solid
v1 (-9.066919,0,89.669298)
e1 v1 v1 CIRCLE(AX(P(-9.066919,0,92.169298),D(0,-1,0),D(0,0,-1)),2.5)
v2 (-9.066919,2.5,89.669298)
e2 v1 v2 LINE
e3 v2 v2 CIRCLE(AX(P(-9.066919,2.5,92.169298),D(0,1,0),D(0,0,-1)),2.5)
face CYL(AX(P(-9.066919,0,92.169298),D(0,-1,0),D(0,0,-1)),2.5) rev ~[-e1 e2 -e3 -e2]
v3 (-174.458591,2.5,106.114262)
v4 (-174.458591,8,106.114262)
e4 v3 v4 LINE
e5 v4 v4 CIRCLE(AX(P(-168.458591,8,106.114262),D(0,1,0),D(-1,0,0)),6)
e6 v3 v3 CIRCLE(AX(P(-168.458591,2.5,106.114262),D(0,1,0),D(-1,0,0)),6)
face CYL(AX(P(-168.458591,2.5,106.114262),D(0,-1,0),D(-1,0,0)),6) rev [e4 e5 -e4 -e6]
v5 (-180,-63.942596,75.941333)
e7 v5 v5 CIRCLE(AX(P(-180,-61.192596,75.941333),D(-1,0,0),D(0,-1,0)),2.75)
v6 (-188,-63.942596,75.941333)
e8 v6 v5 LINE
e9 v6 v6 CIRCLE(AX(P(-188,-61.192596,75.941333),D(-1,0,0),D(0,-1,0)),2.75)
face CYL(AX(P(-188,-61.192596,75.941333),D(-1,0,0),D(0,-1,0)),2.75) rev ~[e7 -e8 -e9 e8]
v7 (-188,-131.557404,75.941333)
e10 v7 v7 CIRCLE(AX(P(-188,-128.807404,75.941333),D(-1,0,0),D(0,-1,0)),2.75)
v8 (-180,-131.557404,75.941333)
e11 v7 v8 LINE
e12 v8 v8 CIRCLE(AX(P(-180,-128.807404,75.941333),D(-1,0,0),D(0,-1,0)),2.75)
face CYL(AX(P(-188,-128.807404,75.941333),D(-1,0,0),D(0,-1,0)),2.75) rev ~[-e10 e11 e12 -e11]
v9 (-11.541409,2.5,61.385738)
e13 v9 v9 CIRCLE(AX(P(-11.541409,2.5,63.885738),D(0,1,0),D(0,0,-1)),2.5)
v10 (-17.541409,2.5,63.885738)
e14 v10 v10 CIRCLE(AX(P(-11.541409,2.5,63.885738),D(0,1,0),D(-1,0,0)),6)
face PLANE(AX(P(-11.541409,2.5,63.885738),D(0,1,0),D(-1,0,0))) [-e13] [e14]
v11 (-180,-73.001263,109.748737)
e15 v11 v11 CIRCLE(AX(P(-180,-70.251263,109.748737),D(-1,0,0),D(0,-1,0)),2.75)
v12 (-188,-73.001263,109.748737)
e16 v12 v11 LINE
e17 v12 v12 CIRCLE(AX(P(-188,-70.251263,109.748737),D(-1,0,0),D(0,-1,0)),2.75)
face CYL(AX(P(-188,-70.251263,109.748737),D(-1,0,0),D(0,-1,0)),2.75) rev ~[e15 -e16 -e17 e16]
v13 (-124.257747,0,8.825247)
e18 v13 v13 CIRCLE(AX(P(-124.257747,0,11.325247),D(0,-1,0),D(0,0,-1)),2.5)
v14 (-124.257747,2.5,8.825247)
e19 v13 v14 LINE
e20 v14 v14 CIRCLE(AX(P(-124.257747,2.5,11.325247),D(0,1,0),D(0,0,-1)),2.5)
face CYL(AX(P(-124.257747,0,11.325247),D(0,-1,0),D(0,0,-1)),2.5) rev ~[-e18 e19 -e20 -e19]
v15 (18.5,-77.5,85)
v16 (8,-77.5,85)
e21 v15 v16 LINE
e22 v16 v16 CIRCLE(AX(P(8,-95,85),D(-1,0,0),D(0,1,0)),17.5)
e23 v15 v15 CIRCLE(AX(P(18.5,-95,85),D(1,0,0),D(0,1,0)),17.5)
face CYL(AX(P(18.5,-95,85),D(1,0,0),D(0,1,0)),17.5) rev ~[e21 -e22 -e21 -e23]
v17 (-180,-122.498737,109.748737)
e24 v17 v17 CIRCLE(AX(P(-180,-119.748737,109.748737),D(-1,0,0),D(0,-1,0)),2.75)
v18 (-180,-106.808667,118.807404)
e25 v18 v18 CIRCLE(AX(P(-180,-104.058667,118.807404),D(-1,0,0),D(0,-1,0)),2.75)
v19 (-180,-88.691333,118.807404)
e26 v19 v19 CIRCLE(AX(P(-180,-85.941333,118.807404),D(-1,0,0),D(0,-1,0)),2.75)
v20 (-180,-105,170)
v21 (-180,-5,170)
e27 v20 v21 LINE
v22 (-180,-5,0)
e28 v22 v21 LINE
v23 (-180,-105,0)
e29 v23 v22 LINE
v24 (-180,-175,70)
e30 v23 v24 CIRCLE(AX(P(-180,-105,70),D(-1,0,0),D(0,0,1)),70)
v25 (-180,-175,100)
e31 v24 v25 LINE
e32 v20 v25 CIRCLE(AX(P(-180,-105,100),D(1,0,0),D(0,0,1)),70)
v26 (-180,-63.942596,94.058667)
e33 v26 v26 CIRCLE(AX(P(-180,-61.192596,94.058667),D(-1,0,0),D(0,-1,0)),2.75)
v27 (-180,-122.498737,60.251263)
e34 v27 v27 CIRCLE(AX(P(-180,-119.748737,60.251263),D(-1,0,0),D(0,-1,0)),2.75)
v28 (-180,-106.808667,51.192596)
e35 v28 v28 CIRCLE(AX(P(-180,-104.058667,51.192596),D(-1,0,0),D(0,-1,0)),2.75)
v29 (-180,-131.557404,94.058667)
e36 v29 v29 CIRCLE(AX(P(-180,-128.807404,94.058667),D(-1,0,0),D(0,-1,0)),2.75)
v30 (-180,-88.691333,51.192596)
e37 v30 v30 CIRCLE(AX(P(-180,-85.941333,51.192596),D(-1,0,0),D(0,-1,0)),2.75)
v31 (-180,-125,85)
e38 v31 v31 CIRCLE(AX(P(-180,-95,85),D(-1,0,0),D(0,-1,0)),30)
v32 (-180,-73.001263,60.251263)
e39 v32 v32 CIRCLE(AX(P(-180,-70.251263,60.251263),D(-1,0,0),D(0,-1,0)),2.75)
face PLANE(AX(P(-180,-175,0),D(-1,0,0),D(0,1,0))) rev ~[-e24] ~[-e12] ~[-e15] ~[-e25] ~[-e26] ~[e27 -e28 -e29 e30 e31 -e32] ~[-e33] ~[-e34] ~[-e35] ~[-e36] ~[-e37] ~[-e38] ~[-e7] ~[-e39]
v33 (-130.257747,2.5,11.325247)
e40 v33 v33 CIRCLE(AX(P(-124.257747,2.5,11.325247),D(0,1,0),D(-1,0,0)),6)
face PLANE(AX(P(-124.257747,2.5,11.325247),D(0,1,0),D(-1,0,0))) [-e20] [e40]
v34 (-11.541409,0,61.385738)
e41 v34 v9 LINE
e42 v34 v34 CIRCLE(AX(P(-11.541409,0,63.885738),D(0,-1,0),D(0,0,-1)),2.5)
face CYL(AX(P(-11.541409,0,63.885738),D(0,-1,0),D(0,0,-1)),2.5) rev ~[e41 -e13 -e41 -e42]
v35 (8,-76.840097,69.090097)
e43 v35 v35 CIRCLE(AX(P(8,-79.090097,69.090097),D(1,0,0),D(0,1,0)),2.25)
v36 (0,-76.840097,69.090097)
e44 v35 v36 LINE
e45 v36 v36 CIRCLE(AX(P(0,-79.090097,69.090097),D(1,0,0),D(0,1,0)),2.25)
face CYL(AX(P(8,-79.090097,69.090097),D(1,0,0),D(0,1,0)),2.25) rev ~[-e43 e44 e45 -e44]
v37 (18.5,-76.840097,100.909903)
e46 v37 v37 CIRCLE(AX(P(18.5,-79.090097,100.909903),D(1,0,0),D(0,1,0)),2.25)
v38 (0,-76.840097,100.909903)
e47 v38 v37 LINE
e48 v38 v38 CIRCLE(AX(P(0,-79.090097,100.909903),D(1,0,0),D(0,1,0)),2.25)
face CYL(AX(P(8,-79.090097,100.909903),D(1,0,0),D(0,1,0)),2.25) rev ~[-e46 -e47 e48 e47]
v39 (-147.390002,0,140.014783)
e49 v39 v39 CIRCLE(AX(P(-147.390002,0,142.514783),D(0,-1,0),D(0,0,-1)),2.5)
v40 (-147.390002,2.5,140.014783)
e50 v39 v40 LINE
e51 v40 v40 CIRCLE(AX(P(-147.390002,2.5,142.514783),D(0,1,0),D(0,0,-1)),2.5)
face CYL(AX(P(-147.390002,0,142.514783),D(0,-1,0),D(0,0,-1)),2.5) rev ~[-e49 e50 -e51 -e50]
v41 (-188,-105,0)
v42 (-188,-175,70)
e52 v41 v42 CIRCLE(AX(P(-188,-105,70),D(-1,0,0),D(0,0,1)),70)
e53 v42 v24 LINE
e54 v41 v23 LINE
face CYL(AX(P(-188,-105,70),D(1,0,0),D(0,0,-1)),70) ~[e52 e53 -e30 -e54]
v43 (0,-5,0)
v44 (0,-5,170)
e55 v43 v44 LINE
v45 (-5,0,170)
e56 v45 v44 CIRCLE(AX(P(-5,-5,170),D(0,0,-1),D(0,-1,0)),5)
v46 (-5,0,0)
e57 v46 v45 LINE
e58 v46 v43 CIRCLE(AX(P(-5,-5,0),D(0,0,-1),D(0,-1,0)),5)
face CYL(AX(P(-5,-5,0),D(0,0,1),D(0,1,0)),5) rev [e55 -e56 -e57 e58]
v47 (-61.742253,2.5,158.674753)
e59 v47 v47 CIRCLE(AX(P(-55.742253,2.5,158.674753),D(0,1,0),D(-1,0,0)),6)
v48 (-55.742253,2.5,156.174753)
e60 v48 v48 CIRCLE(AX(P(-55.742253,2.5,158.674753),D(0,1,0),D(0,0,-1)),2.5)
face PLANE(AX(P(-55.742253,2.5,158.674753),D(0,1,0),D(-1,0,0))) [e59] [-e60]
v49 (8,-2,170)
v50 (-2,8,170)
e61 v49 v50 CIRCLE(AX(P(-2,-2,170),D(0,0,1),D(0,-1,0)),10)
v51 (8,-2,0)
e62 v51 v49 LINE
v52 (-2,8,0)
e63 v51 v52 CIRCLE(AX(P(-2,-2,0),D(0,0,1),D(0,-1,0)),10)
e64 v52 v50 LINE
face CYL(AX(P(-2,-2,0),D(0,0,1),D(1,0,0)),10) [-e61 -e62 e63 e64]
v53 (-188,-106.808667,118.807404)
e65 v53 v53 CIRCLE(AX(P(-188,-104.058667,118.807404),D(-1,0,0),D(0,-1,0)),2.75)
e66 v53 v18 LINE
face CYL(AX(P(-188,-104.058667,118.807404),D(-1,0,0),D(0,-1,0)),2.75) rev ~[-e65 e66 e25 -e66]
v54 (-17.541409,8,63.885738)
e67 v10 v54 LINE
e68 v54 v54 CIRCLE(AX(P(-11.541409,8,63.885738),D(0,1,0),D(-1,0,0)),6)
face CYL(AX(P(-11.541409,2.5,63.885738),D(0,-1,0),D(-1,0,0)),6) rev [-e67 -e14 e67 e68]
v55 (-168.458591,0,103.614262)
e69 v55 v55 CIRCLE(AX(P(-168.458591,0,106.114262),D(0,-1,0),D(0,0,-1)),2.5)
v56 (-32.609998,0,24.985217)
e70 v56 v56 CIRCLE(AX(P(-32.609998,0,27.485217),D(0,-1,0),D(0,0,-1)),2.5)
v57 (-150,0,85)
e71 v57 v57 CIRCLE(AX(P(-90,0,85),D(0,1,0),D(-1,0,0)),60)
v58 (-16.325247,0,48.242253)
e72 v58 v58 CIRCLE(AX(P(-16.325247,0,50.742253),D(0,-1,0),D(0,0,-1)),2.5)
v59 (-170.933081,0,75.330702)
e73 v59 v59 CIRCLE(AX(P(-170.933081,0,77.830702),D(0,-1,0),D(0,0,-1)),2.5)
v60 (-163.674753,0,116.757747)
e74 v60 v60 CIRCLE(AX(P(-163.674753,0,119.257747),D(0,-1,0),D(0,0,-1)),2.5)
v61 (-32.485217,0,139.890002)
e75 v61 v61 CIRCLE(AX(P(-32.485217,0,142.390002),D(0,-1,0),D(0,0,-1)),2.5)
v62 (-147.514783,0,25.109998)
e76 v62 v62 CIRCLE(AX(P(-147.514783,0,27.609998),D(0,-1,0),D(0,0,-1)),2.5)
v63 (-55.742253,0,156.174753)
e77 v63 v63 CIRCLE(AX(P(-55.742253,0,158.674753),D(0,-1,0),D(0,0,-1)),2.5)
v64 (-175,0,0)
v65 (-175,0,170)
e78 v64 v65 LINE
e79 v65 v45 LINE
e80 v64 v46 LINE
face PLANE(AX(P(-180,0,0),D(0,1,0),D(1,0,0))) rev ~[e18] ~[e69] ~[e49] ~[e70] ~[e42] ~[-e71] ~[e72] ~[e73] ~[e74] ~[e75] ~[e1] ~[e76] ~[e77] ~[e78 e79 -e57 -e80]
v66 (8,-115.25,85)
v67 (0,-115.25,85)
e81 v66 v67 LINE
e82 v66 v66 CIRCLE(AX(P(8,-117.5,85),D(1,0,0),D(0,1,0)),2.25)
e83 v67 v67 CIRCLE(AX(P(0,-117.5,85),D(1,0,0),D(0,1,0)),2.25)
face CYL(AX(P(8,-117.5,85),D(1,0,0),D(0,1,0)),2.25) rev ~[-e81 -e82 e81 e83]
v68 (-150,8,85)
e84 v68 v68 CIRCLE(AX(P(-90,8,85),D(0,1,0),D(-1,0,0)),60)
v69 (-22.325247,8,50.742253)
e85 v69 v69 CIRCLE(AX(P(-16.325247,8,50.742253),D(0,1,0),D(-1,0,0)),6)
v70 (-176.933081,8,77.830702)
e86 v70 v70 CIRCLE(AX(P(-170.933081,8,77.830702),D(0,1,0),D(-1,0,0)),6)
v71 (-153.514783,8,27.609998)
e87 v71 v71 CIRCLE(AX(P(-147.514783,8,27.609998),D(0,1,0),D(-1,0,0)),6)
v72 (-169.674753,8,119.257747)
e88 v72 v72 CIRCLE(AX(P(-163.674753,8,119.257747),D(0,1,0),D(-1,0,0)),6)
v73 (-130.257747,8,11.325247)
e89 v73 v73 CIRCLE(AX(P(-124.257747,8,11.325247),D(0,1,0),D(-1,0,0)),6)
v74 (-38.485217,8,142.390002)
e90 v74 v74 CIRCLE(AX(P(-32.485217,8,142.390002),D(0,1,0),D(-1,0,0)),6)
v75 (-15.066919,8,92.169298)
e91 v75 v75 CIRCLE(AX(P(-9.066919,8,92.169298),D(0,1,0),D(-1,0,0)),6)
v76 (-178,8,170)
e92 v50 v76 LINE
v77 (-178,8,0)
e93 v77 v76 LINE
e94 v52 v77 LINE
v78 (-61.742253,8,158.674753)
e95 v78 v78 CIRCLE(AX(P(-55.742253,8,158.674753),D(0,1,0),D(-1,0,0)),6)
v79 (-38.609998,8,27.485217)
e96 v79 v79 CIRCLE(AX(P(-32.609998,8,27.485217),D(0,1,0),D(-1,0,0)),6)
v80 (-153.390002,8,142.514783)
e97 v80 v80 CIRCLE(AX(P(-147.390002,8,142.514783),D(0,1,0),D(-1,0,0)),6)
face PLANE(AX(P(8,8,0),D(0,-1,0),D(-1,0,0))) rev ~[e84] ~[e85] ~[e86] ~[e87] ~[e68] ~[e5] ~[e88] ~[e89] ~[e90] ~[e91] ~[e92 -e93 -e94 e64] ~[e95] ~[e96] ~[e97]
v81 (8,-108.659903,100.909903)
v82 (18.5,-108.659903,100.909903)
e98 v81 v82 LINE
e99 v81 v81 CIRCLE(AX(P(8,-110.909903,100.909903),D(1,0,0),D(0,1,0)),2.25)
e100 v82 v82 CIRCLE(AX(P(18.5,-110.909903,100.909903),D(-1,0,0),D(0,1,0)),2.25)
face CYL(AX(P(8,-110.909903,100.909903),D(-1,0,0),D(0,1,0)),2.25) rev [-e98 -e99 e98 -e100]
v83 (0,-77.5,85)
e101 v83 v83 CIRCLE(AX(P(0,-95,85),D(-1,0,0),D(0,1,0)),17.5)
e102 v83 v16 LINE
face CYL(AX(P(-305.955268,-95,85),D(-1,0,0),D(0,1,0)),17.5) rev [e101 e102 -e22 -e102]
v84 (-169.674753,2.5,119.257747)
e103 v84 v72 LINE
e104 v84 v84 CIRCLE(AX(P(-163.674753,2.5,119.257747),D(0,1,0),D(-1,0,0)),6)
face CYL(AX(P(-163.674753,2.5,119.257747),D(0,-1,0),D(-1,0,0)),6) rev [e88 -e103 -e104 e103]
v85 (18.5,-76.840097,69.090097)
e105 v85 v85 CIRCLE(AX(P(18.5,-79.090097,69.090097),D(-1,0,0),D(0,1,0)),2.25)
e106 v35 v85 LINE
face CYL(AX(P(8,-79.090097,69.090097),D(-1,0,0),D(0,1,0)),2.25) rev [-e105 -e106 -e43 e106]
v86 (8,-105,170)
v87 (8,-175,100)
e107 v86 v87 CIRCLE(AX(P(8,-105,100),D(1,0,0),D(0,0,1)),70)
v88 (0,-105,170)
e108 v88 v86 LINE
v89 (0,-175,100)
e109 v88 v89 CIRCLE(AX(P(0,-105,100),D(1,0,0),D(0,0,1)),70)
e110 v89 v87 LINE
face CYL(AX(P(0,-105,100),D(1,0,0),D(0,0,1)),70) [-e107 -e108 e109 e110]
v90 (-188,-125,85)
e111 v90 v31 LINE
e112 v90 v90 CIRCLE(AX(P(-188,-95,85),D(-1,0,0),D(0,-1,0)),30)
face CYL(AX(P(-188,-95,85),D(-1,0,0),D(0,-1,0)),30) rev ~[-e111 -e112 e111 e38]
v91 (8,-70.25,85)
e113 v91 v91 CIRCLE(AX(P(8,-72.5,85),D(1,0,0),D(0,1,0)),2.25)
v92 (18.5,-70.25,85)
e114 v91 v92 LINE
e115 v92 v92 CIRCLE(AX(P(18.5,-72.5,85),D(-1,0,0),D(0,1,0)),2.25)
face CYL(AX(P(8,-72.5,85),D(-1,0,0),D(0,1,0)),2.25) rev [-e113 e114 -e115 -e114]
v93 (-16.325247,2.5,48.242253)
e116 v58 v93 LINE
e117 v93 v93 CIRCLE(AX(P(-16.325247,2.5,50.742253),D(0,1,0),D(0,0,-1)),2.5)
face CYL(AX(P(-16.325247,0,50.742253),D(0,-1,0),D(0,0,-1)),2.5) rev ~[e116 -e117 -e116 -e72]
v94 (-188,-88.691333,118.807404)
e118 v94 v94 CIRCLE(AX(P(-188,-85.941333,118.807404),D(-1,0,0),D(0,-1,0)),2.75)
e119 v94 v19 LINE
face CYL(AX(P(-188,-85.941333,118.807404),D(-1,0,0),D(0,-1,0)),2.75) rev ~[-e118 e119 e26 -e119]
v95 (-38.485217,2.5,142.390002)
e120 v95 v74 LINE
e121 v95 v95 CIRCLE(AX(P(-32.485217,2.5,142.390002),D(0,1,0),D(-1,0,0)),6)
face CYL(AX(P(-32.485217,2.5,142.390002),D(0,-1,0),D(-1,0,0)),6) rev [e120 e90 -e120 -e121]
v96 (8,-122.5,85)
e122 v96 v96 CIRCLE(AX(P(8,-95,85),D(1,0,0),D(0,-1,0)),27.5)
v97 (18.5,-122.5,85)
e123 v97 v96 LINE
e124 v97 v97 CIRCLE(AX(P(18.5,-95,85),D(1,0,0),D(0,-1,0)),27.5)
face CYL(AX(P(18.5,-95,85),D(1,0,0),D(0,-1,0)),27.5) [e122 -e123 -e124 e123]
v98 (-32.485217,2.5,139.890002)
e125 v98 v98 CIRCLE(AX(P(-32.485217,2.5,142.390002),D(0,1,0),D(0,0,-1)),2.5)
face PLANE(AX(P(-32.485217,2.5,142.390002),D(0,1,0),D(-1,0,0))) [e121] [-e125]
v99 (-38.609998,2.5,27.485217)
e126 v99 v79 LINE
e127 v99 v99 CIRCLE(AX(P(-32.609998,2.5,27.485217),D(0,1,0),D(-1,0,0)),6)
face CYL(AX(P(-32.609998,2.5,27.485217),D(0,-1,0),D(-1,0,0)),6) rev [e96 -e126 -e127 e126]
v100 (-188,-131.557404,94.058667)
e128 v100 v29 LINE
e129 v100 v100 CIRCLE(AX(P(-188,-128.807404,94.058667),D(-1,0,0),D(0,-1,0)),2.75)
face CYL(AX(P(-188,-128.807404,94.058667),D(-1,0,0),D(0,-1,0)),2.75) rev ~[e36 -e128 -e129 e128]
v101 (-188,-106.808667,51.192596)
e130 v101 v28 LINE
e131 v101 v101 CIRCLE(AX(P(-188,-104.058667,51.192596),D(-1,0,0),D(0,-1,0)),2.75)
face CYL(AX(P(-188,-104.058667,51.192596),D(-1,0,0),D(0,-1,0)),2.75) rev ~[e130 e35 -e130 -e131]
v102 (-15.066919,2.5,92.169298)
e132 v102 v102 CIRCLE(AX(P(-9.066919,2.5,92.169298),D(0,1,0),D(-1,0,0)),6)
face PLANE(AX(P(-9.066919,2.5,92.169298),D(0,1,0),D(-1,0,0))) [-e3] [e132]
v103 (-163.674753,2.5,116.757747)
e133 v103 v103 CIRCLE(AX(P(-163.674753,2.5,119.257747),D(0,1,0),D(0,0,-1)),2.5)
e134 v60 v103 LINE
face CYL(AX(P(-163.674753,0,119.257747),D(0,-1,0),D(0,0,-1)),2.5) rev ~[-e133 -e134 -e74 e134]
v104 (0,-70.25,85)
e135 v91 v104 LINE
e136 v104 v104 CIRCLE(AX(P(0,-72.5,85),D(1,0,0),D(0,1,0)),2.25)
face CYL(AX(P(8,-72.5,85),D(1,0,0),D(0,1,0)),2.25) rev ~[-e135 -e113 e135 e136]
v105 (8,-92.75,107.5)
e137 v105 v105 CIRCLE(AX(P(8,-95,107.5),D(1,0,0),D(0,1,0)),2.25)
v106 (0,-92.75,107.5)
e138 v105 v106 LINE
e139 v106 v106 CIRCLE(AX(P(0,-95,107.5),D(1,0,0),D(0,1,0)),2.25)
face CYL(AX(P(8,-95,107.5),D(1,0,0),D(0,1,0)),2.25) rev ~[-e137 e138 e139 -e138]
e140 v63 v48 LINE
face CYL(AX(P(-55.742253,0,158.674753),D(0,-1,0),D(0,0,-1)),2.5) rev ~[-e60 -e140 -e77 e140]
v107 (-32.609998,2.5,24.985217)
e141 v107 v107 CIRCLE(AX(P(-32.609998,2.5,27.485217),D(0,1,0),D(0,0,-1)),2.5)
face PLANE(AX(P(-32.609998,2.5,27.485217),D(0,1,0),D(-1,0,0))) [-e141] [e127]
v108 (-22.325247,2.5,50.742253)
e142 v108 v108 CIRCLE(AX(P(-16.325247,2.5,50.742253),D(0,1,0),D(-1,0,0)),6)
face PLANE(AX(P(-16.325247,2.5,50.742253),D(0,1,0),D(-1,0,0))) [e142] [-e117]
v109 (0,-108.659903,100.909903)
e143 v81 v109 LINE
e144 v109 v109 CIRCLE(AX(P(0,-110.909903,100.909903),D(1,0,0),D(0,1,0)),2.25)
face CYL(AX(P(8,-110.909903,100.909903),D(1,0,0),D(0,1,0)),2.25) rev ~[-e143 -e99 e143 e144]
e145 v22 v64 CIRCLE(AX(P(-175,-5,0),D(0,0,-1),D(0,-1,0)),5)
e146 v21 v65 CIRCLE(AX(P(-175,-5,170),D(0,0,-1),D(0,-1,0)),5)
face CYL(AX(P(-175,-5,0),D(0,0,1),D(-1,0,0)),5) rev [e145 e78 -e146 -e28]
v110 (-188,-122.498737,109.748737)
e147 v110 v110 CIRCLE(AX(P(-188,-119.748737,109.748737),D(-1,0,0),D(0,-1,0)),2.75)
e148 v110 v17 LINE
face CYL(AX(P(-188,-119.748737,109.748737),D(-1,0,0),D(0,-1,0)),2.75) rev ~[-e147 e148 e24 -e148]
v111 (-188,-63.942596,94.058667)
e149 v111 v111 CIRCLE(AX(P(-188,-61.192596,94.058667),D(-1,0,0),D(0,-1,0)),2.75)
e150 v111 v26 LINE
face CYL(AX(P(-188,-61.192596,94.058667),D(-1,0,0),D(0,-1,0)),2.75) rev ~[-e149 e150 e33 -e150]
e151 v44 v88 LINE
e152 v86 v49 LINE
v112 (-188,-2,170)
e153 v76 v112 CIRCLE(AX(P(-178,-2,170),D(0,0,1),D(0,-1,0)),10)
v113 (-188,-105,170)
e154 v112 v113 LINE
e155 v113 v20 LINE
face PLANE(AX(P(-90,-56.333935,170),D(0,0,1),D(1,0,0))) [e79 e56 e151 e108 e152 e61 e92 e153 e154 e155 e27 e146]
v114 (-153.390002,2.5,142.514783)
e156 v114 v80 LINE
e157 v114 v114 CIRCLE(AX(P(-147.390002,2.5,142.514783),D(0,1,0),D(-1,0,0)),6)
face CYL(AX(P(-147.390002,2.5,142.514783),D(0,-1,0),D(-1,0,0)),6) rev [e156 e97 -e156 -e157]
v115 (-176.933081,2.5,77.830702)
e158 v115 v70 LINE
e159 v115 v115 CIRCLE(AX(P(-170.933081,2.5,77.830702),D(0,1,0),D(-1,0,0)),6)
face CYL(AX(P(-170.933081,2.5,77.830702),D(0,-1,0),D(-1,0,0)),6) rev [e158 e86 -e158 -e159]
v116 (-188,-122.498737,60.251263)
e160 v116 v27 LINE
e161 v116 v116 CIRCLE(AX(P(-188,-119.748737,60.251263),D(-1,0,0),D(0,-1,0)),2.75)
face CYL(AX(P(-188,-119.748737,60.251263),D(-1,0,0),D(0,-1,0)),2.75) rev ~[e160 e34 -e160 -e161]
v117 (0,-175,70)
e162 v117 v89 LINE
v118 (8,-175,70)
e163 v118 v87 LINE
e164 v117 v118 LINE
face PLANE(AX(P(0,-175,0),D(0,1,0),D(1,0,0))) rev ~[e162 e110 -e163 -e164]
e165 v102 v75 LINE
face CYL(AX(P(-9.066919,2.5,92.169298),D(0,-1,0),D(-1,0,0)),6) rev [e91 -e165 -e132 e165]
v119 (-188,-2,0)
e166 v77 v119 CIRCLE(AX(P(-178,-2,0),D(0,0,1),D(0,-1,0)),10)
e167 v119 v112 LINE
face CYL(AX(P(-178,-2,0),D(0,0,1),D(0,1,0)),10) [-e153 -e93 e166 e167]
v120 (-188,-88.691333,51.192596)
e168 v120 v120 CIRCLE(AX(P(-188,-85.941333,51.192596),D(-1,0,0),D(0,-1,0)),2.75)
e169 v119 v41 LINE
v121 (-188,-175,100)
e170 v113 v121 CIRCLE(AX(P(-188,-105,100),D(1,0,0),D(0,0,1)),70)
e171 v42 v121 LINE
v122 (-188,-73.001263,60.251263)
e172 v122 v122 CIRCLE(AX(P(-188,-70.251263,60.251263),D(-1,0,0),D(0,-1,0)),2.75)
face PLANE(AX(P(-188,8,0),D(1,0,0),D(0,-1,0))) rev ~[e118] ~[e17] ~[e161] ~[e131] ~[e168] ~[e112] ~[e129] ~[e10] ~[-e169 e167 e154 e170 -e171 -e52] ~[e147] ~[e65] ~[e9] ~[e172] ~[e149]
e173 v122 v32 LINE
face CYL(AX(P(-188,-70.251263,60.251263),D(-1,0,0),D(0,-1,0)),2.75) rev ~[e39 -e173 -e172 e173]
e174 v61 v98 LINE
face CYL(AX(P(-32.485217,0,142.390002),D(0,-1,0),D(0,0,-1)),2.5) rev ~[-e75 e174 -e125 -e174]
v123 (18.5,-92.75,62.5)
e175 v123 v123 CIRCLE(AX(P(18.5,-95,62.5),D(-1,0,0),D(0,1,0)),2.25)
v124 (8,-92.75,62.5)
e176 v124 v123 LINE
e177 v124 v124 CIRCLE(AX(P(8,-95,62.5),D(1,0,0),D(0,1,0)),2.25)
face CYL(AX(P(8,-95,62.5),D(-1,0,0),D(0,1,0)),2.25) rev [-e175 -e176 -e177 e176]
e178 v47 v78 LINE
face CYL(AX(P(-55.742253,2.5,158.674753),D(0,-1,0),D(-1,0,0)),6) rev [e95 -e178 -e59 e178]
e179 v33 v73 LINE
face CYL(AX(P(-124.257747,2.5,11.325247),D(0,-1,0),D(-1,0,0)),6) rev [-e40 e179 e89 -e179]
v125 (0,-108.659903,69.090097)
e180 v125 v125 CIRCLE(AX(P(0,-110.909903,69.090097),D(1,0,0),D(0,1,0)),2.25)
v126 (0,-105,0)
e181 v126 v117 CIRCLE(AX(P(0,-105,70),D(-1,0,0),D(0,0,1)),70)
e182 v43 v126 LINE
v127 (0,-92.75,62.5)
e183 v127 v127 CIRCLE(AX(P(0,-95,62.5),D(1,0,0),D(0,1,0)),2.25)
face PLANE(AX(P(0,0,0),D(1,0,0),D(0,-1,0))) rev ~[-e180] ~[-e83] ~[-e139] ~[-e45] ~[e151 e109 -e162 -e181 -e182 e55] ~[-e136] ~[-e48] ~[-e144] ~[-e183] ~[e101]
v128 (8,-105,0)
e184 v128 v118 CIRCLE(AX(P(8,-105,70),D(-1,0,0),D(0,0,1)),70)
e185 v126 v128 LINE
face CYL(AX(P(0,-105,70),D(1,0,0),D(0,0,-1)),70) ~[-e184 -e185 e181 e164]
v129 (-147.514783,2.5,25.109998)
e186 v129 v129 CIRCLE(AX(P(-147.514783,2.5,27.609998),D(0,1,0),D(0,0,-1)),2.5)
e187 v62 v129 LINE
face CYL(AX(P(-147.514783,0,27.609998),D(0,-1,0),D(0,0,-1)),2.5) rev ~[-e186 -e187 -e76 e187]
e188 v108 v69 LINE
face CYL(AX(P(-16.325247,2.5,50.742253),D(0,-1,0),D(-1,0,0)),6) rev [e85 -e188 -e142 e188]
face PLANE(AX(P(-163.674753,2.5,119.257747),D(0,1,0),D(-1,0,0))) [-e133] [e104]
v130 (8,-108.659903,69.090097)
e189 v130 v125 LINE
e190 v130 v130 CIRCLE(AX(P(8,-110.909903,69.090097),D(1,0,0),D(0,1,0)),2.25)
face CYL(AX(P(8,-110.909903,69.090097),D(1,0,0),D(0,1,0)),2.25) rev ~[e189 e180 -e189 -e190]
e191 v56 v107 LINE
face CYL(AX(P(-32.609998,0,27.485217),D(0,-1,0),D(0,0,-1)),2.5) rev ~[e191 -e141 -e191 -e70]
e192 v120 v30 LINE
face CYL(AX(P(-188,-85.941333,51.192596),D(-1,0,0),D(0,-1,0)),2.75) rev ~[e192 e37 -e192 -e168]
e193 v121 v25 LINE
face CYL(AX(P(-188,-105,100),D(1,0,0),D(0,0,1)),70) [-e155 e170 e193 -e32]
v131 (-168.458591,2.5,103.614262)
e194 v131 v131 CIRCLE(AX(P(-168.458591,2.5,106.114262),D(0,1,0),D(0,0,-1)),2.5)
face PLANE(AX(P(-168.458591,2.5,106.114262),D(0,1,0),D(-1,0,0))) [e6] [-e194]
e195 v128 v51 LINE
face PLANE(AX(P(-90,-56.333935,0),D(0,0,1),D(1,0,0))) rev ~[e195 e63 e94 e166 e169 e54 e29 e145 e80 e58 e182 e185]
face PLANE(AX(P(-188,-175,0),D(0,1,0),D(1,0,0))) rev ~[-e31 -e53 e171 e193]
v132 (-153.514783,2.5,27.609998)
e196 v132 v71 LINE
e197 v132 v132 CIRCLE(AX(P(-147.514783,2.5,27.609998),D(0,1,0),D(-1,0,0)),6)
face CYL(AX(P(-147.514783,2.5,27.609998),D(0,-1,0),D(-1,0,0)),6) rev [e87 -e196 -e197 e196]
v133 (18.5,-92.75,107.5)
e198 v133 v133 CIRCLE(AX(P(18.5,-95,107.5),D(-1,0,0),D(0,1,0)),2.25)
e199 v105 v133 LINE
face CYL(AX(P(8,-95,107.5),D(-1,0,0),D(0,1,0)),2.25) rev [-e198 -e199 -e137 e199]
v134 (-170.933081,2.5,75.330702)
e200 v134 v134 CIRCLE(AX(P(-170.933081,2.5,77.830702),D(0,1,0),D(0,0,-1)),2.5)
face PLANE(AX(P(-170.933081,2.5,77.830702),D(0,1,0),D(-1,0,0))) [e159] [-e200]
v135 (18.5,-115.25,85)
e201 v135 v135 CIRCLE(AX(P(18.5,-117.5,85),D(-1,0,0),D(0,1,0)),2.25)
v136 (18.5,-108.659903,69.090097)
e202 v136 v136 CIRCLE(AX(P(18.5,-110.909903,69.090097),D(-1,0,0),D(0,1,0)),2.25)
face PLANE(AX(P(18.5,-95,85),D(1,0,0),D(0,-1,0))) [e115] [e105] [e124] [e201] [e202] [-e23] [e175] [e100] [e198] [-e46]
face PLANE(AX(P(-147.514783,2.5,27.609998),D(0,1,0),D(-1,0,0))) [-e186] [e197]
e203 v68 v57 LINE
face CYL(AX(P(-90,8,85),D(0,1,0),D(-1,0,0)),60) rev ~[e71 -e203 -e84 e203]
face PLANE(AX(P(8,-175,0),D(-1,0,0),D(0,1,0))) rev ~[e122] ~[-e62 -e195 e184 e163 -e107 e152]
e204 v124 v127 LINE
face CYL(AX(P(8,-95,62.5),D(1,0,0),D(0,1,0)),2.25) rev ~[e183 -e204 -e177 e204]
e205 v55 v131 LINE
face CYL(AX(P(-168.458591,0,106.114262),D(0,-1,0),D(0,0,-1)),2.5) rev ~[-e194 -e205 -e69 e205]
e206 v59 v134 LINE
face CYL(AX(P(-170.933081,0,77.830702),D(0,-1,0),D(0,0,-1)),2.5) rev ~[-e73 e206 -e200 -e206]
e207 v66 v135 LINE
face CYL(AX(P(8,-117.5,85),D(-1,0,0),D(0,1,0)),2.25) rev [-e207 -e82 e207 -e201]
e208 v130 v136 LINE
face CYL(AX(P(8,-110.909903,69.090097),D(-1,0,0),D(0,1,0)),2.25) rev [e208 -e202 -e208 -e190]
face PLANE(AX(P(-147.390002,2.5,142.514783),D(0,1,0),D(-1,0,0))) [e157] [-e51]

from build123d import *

# Parameters (mm, degrees)
EXTRUDE_1_DEPTH          = 170
SKETCH_2_R               = 60
CUT_EXTRUDE_1_DEPTH      = 180
CUT_EXTRUDE_2_DEPTH      = 313.955268369
CUT_EXTRUDE_2_DEPTH_BACK = 313.955268369
SKETCH_3_R               = 17.5
FILLET_1_R               = 70
FILLET_2_R               = 5
FILLET_3_R               = 10
SKETCH_6_R               = 30
CUT_EXTRUDE_6_DEPTH      = 39
SKETCH_10_R              = 2.5
CUT_EXTRUDE_10_DEPTH     = 10
CUT_EXTRUDE_START        = -5.5
SKETCH_11_R              = 6
SKETCH_11_R_2            = 2.5
CUT_EXTRUDE_11_DEPTH     = 5.5
SKETCH_12_R              = 2.75
CUT_EXTRUDE_12_DEPTH     = 10
EXTRUDE_START            = 10.5
SKETCH_14_R              = 27.5
SKETCH_14_R_2            = 17.5
EXTRUDE_2_DEPTH          = 10.5
SKETCH_13_R              = 2.25
CUT_EXTRUDE_13_DEPTH     = 15


with BuildPart() as part:
    # 草图1 → 凸台-拉伸1 (new body)
    with BuildSketch(Plane.XY):
        Polygon((-180, 0), (0, 0), (0, -175), (8, -175), (8, 8), (-180, 8), (-188, 8), (-188, -175), (-180, -175), align=None)
    extrude(amount=EXTRUDE_1_DEPTH)

    # 草图2 → 切除-拉伸1 (cut)
    with BuildSketch(Plane(origin=(0, 8, 0), x_dir=(1, 0, 0), z_dir=(0, 1, 0))):
        with Locations(Location((-90, -85, 0), (0, 0, 180))):
            Circle(SKETCH_2_R)
    extrude(amount=-CUT_EXTRUDE_1_DEPTH, mode=Mode.SUBTRACT)

    # 草图3 → 切除-拉伸2 (cut, two sides: drawn at the far end of the back side and taken through both)
    with BuildSketch(Plane(origin=(8, 0, 0), x_dir=(0, 0, -1), z_dir=(1, 0, 0)).offset(-CUT_EXTRUDE_2_DEPTH_BACK)):
        with Locations(Location((-85, -95, 0), (0, 0, 90))):
            Circle(SKETCH_3_R)
    extrude(amount=CUT_EXTRUDE_2_DEPTH + CUT_EXTRUDE_2_DEPTH_BACK, mode=Mode.SUBTRACT)

    # 圆角1
    fillet_1_edges = [part.edges().sort_by_distance(p)[0] for p in [
        (4, -175, 0),
        (4, -175, 170),
        (-184, -175, 170),
        (-184, -175, 0),
    ]]
    fillet(fillet_1_edges, radius=FILLET_1_R)

    # 圆角2
    fillet_2_edges = [part.edges().sort_by_distance(p)[0] for p in [
        (0, 0, 85),
        (-180, 0, 85),
    ]]
    fillet(fillet_2_edges, radius=FILLET_2_R)

    # 圆角3
    fillet_3_edges = [part.edges().sort_by_distance(p)[0] for p in [
        (-188, 8, 85),
        (8, 8, 85),
    ]]
    fillet(fillet_3_edges, radius=FILLET_3_R)

    # 草图6 → 切除-拉伸6 (cut)
    with BuildSketch(Plane.ZY.offset(188)):
        with Locations(Location((85, -95, 0), (0, 0, 270))):
            Circle(SKETCH_6_R)
    extrude(amount=-CUT_EXTRUDE_6_DEPTH, mode=Mode.SUBTRACT)

    # 草图10 → 切除-拉伸10 (cut)
    with BuildSketch(Plane.XZ):
        with Locations(Location((-55.742253069, 158.674753309, 0), (0, 0, 270))):
            Circle(SKETCH_10_R)
        with Locations(Location((-32.485217492, 142.390001682, 0), (0, 0, 270))):
            Circle(SKETCH_10_R)
        with Locations(Location((-9.066918551, 92.169297536, 0), (0, 0, 270))):
            Circle(SKETCH_10_R)
        with Locations(Location((-11.541409366, 63.885738097, 0), (0, 0, 270))):
            Circle(SKETCH_10_R)
        with Locations(Location((-16.325246691, 50.742253069, 0), (0, 0, 270))):
            Circle(SKETCH_10_R)
        with Locations(Location((-32.609998318, 27.485217492, 0), (0, 0, 270))):
            Circle(SKETCH_10_R)
        with Locations(Location((-124.257746931, 11.325246691, 0), (0, 0, 270))):
            Circle(SKETCH_10_R)
        with Locations(Location((-147.514782508, 27.609998318, 0), (0, 0, 270))):
            Circle(SKETCH_10_R)
        with Locations(Location((-170.933081449, 77.830702464, 0), (0, 0, 270))):
            Circle(SKETCH_10_R)
        with Locations(Location((-168.458590634, 106.114261903, 0), (0, 0, 270))):
            Circle(SKETCH_10_R)
        with Locations(Location((-163.674753309, 119.257746931, 0), (0, 0, 270))):
            Circle(SKETCH_10_R)
        with Locations(Location((-147.390001682, 142.514782508, 0), (0, 0, 270))):
            Circle(SKETCH_10_R)
    extrude(amount=-CUT_EXTRUDE_10_DEPTH, mode=Mode.SUBTRACT)

    # 草图11 → 切除-拉伸11 (cut)
    # profile 1 of 12: a face of its own
    with BuildSketch(Plane(origin=(0, 8, 0), x_dir=(1, 0, 0), z_dir=(0, 1, 0)).offset(CUT_EXTRUDE_START)):
        with Locations(Location((-32.485217492, -142.390001682, 0), (0, 0, 180))):
            Circle(SKETCH_11_R)
        with Locations(Location((-32.485217492, -142.390001682, 0), (0, 0, 90))):
            Circle(SKETCH_11_R_2, mode=Mode.SUBTRACT)
    # profile 2 of 12: a face of its own
    with BuildSketch(Plane(origin=(0, 8, 0), x_dir=(1, 0, 0), z_dir=(0, 1, 0)).offset(CUT_EXTRUDE_START)):
        with Locations(Location((-55.742253069, -158.674753309, 0), (0, 0, 180))):
            Circle(SKETCH_11_R)
        with Locations(Location((-55.742253069, -158.674753309, 0), (0, 0, 90))):
            Circle(SKETCH_11_R_2, mode=Mode.SUBTRACT)
    # profile 3 of 12: a face of its own
    with BuildSketch(Plane(origin=(0, 8, 0), x_dir=(1, 0, 0), z_dir=(0, 1, 0)).offset(CUT_EXTRUDE_START)):
        with Locations(Location((-147.390001682, -142.514782508, 0), (0, 0, 180))):
            Circle(SKETCH_11_R)
        with Locations(Location((-147.390001682, -142.514782508, 0), (0, 0, 90))):
            Circle(SKETCH_11_R_2, mode=Mode.SUBTRACT)
    # profile 4 of 12: a face of its own
    with BuildSketch(Plane(origin=(0, 8, 0), x_dir=(1, 0, 0), z_dir=(0, 1, 0)).offset(CUT_EXTRUDE_START)):
        with Locations(Location((-163.674753309, -119.257746931, 0), (0, 0, 180))):
            Circle(SKETCH_11_R)
        with Locations(Location((-163.674753309, -119.257746931, 0), (0, 0, 90))):
            Circle(SKETCH_11_R_2, mode=Mode.SUBTRACT)
    # profile 5 of 12: a face of its own
    with BuildSketch(Plane(origin=(0, 8, 0), x_dir=(1, 0, 0), z_dir=(0, 1, 0)).offset(CUT_EXTRUDE_START)):
        with Locations(Location((-168.458590634, -106.114261903, 0), (0, 0, 180))):
            Circle(SKETCH_11_R)
        with Locations(Location((-168.458590634, -106.114261903, 0), (0, 0, 90))):
            Circle(SKETCH_11_R_2, mode=Mode.SUBTRACT)
    # profile 6 of 12: a face of its own
    with BuildSketch(Plane(origin=(0, 8, 0), x_dir=(1, 0, 0), z_dir=(0, 1, 0)).offset(CUT_EXTRUDE_START)):
        with Locations(Location((-170.933081449, -77.830702464, 0), (0, 0, 180))):
            Circle(SKETCH_11_R)
        with Locations(Location((-170.933081449, -77.830702464, 0), (0, 0, 90))):
            Circle(SKETCH_11_R_2, mode=Mode.SUBTRACT)
    # profile 7 of 12: a face of its own
    with BuildSketch(Plane(origin=(0, 8, 0), x_dir=(1, 0, 0), z_dir=(0, 1, 0)).offset(CUT_EXTRUDE_START)):
        with Locations(Location((-147.514782508, -27.609998318, 0), (0, 0, 180))):
            Circle(SKETCH_11_R)
        with Locations(Location((-147.514782508, -27.609998318, 0), (0, 0, 90))):
            Circle(SKETCH_11_R_2, mode=Mode.SUBTRACT)
    # profile 8 of 12: a face of its own
    with BuildSketch(Plane(origin=(0, 8, 0), x_dir=(1, 0, 0), z_dir=(0, 1, 0)).offset(CUT_EXTRUDE_START)):
        with Locations(Location((-124.257746931, -11.325246691, 0), (0, 0, 180))):
            Circle(SKETCH_11_R)
        with Locations(Location((-124.257746931, -11.325246691, 0), (0, 0, 90))):
            Circle(SKETCH_11_R_2, mode=Mode.SUBTRACT)
    # profile 9 of 12: a face of its own
    with BuildSketch(Plane(origin=(0, 8, 0), x_dir=(1, 0, 0), z_dir=(0, 1, 0)).offset(CUT_EXTRUDE_START)):
        with Locations(Location((-32.609998318, -27.485217492, 0), (0, 0, 180))):
            Circle(SKETCH_11_R)
        with Locations(Location((-32.609998318, -27.485217492, 0), (0, 0, 90))):
            Circle(SKETCH_11_R_2, mode=Mode.SUBTRACT)
    # profile 10 of 12: a face of its own
    with BuildSketch(Plane(origin=(0, 8, 0), x_dir=(1, 0, 0), z_dir=(0, 1, 0)).offset(CUT_EXTRUDE_START)):
        with Locations(Location((-16.325246691, -50.742253069, 0), (0, 0, 180))):
            Circle(SKETCH_11_R)
        with Locations(Location((-16.325246691, -50.742253069, 0), (0, 0, 90))):
            Circle(SKETCH_11_R_2, mode=Mode.SUBTRACT)
    # profile 11 of 12: a face of its own
    with BuildSketch(Plane(origin=(0, 8, 0), x_dir=(1, 0, 0), z_dir=(0, 1, 0)).offset(CUT_EXTRUDE_START)):
        with Locations(Location((-11.541409366, -63.885738097, 0), (0, 0, 180))):
            Circle(SKETCH_11_R)
        with Locations(Location((-11.541409366, -63.885738097, 0), (0, 0, 90))):
            Circle(SKETCH_11_R_2, mode=Mode.SUBTRACT)
    # profile 12 of 12: a face of its own
    with BuildSketch(Plane(origin=(0, 8, 0), x_dir=(1, 0, 0), z_dir=(0, 1, 0)).offset(CUT_EXTRUDE_START)):
        with Locations(Location((-9.066918551, -92.169297536, 0), (0, 0, 180))):
            Circle(SKETCH_11_R)
        with Locations(Location((-9.066918551, -92.169297536, 0), (0, 0, 90))):
            Circle(SKETCH_11_R_2, mode=Mode.SUBTRACT)
    extrude(amount=CUT_EXTRUDE_11_DEPTH, mode=Mode.SUBTRACT)

    # 草图12 → 切除-拉伸12 (cut)
    with BuildSketch(Plane.ZY.offset(188)):
        with Locations(Location((94.058666579, -128.80740392, 0), (0, 0, 270))):
            Circle(SKETCH_12_R)
        with Locations(Location((75.941333421, -128.80740392, 0), (0, 0, 270))):
            Circle(SKETCH_12_R)
        with Locations(Location((60.251262658, -119.748737342, 0), (0, 0, 270))):
            Circle(SKETCH_12_R)
        with Locations(Location((51.19259608, -104.058666579, 0), (0, 0, 270))):
            Circle(SKETCH_12_R)
        with Locations(Location((51.19259608, -85.941333421, 0), (0, 0, 270))):
            Circle(SKETCH_12_R)
        with Locations(Location((60.251262658, -70.251262658, 0), (0, 0, 270))):
            Circle(SKETCH_12_R)
        with Locations(Location((75.941333421, -61.19259608, 0), (0, 0, 270))):
            Circle(SKETCH_12_R)
        with Locations(Location((94.058666579, -61.19259608, 0), (0, 0, 270))):
            Circle(SKETCH_12_R)
        with Locations(Location((109.748737342, -70.251262658, 0), (0, 0, 270))):
            Circle(SKETCH_12_R)
        with Locations(Location((118.80740392, -85.941333421, 0), (0, 0, 270))):
            Circle(SKETCH_12_R)
        with Locations(Location((118.80740392, -104.058666579, 0), (0, 0, 270))):
            Circle(SKETCH_12_R)
        with Locations(Location((109.748737342, -119.748737342, 0), (0, 0, 270))):
            Circle(SKETCH_12_R)
    extrude(amount=-CUT_EXTRUDE_12_DEPTH, mode=Mode.SUBTRACT)

    # 草图14 → 凸台-拉伸2 (add)
    with BuildSketch(Plane(origin=(8, 0, 0), x_dir=(0, 0, -1), z_dir=(1, 0, 0)).offset(EXTRUDE_START)):
        with Locations(Location((-85, -95, 0), (0, 0, 270))):
            Circle(SKETCH_14_R)
        with Locations(Location((-85, -95, 0), (0, 0, 90))):
            Circle(SKETCH_14_R_2, mode=Mode.SUBTRACT)
    extrude(amount=-EXTRUDE_2_DEPTH)

    # 草图13 → 切除-拉伸13 (cut, symmetric)
    with BuildSketch(Plane(origin=(8, 0, 0), x_dir=(0, 0, -1), z_dir=(1, 0, 0))):
        with Locations(Location((-85, -72.5, 0), (0, 0, 90))):
            Circle(SKETCH_13_R)
        with Locations(Location((-69.090097423, -79.090097423, 0), (0, 0, 90))):
            Circle(SKETCH_13_R)
        with Locations(Location((-62.5, -95, 0), (0, 0, 90))):
            Circle(SKETCH_13_R)
        with Locations(Location((-69.090097423, -110.909902577, 0), (0, 0, 90))):
            Circle(SKETCH_13_R)
        with Locations(Location((-85, -117.5, 0), (0, 0, 90))):
            Circle(SKETCH_13_R)
        with Locations(Location((-100.909902577, -110.909902577, 0), (0, 0, 90))):
            Circle(SKETCH_13_R)
        with Locations(Location((-107.5, -95, 0), (0, 0, 90))):
            Circle(SKETCH_13_R)
        with Locations(Location((-100.909902577, -79.090097423, 0), (0, 0, 90))):
            Circle(SKETCH_13_R)
    extrude(amount=CUT_EXTRUDE_13_DEPTH, both=True, mode=Mode.SUBTRACT)


solid = part.part
